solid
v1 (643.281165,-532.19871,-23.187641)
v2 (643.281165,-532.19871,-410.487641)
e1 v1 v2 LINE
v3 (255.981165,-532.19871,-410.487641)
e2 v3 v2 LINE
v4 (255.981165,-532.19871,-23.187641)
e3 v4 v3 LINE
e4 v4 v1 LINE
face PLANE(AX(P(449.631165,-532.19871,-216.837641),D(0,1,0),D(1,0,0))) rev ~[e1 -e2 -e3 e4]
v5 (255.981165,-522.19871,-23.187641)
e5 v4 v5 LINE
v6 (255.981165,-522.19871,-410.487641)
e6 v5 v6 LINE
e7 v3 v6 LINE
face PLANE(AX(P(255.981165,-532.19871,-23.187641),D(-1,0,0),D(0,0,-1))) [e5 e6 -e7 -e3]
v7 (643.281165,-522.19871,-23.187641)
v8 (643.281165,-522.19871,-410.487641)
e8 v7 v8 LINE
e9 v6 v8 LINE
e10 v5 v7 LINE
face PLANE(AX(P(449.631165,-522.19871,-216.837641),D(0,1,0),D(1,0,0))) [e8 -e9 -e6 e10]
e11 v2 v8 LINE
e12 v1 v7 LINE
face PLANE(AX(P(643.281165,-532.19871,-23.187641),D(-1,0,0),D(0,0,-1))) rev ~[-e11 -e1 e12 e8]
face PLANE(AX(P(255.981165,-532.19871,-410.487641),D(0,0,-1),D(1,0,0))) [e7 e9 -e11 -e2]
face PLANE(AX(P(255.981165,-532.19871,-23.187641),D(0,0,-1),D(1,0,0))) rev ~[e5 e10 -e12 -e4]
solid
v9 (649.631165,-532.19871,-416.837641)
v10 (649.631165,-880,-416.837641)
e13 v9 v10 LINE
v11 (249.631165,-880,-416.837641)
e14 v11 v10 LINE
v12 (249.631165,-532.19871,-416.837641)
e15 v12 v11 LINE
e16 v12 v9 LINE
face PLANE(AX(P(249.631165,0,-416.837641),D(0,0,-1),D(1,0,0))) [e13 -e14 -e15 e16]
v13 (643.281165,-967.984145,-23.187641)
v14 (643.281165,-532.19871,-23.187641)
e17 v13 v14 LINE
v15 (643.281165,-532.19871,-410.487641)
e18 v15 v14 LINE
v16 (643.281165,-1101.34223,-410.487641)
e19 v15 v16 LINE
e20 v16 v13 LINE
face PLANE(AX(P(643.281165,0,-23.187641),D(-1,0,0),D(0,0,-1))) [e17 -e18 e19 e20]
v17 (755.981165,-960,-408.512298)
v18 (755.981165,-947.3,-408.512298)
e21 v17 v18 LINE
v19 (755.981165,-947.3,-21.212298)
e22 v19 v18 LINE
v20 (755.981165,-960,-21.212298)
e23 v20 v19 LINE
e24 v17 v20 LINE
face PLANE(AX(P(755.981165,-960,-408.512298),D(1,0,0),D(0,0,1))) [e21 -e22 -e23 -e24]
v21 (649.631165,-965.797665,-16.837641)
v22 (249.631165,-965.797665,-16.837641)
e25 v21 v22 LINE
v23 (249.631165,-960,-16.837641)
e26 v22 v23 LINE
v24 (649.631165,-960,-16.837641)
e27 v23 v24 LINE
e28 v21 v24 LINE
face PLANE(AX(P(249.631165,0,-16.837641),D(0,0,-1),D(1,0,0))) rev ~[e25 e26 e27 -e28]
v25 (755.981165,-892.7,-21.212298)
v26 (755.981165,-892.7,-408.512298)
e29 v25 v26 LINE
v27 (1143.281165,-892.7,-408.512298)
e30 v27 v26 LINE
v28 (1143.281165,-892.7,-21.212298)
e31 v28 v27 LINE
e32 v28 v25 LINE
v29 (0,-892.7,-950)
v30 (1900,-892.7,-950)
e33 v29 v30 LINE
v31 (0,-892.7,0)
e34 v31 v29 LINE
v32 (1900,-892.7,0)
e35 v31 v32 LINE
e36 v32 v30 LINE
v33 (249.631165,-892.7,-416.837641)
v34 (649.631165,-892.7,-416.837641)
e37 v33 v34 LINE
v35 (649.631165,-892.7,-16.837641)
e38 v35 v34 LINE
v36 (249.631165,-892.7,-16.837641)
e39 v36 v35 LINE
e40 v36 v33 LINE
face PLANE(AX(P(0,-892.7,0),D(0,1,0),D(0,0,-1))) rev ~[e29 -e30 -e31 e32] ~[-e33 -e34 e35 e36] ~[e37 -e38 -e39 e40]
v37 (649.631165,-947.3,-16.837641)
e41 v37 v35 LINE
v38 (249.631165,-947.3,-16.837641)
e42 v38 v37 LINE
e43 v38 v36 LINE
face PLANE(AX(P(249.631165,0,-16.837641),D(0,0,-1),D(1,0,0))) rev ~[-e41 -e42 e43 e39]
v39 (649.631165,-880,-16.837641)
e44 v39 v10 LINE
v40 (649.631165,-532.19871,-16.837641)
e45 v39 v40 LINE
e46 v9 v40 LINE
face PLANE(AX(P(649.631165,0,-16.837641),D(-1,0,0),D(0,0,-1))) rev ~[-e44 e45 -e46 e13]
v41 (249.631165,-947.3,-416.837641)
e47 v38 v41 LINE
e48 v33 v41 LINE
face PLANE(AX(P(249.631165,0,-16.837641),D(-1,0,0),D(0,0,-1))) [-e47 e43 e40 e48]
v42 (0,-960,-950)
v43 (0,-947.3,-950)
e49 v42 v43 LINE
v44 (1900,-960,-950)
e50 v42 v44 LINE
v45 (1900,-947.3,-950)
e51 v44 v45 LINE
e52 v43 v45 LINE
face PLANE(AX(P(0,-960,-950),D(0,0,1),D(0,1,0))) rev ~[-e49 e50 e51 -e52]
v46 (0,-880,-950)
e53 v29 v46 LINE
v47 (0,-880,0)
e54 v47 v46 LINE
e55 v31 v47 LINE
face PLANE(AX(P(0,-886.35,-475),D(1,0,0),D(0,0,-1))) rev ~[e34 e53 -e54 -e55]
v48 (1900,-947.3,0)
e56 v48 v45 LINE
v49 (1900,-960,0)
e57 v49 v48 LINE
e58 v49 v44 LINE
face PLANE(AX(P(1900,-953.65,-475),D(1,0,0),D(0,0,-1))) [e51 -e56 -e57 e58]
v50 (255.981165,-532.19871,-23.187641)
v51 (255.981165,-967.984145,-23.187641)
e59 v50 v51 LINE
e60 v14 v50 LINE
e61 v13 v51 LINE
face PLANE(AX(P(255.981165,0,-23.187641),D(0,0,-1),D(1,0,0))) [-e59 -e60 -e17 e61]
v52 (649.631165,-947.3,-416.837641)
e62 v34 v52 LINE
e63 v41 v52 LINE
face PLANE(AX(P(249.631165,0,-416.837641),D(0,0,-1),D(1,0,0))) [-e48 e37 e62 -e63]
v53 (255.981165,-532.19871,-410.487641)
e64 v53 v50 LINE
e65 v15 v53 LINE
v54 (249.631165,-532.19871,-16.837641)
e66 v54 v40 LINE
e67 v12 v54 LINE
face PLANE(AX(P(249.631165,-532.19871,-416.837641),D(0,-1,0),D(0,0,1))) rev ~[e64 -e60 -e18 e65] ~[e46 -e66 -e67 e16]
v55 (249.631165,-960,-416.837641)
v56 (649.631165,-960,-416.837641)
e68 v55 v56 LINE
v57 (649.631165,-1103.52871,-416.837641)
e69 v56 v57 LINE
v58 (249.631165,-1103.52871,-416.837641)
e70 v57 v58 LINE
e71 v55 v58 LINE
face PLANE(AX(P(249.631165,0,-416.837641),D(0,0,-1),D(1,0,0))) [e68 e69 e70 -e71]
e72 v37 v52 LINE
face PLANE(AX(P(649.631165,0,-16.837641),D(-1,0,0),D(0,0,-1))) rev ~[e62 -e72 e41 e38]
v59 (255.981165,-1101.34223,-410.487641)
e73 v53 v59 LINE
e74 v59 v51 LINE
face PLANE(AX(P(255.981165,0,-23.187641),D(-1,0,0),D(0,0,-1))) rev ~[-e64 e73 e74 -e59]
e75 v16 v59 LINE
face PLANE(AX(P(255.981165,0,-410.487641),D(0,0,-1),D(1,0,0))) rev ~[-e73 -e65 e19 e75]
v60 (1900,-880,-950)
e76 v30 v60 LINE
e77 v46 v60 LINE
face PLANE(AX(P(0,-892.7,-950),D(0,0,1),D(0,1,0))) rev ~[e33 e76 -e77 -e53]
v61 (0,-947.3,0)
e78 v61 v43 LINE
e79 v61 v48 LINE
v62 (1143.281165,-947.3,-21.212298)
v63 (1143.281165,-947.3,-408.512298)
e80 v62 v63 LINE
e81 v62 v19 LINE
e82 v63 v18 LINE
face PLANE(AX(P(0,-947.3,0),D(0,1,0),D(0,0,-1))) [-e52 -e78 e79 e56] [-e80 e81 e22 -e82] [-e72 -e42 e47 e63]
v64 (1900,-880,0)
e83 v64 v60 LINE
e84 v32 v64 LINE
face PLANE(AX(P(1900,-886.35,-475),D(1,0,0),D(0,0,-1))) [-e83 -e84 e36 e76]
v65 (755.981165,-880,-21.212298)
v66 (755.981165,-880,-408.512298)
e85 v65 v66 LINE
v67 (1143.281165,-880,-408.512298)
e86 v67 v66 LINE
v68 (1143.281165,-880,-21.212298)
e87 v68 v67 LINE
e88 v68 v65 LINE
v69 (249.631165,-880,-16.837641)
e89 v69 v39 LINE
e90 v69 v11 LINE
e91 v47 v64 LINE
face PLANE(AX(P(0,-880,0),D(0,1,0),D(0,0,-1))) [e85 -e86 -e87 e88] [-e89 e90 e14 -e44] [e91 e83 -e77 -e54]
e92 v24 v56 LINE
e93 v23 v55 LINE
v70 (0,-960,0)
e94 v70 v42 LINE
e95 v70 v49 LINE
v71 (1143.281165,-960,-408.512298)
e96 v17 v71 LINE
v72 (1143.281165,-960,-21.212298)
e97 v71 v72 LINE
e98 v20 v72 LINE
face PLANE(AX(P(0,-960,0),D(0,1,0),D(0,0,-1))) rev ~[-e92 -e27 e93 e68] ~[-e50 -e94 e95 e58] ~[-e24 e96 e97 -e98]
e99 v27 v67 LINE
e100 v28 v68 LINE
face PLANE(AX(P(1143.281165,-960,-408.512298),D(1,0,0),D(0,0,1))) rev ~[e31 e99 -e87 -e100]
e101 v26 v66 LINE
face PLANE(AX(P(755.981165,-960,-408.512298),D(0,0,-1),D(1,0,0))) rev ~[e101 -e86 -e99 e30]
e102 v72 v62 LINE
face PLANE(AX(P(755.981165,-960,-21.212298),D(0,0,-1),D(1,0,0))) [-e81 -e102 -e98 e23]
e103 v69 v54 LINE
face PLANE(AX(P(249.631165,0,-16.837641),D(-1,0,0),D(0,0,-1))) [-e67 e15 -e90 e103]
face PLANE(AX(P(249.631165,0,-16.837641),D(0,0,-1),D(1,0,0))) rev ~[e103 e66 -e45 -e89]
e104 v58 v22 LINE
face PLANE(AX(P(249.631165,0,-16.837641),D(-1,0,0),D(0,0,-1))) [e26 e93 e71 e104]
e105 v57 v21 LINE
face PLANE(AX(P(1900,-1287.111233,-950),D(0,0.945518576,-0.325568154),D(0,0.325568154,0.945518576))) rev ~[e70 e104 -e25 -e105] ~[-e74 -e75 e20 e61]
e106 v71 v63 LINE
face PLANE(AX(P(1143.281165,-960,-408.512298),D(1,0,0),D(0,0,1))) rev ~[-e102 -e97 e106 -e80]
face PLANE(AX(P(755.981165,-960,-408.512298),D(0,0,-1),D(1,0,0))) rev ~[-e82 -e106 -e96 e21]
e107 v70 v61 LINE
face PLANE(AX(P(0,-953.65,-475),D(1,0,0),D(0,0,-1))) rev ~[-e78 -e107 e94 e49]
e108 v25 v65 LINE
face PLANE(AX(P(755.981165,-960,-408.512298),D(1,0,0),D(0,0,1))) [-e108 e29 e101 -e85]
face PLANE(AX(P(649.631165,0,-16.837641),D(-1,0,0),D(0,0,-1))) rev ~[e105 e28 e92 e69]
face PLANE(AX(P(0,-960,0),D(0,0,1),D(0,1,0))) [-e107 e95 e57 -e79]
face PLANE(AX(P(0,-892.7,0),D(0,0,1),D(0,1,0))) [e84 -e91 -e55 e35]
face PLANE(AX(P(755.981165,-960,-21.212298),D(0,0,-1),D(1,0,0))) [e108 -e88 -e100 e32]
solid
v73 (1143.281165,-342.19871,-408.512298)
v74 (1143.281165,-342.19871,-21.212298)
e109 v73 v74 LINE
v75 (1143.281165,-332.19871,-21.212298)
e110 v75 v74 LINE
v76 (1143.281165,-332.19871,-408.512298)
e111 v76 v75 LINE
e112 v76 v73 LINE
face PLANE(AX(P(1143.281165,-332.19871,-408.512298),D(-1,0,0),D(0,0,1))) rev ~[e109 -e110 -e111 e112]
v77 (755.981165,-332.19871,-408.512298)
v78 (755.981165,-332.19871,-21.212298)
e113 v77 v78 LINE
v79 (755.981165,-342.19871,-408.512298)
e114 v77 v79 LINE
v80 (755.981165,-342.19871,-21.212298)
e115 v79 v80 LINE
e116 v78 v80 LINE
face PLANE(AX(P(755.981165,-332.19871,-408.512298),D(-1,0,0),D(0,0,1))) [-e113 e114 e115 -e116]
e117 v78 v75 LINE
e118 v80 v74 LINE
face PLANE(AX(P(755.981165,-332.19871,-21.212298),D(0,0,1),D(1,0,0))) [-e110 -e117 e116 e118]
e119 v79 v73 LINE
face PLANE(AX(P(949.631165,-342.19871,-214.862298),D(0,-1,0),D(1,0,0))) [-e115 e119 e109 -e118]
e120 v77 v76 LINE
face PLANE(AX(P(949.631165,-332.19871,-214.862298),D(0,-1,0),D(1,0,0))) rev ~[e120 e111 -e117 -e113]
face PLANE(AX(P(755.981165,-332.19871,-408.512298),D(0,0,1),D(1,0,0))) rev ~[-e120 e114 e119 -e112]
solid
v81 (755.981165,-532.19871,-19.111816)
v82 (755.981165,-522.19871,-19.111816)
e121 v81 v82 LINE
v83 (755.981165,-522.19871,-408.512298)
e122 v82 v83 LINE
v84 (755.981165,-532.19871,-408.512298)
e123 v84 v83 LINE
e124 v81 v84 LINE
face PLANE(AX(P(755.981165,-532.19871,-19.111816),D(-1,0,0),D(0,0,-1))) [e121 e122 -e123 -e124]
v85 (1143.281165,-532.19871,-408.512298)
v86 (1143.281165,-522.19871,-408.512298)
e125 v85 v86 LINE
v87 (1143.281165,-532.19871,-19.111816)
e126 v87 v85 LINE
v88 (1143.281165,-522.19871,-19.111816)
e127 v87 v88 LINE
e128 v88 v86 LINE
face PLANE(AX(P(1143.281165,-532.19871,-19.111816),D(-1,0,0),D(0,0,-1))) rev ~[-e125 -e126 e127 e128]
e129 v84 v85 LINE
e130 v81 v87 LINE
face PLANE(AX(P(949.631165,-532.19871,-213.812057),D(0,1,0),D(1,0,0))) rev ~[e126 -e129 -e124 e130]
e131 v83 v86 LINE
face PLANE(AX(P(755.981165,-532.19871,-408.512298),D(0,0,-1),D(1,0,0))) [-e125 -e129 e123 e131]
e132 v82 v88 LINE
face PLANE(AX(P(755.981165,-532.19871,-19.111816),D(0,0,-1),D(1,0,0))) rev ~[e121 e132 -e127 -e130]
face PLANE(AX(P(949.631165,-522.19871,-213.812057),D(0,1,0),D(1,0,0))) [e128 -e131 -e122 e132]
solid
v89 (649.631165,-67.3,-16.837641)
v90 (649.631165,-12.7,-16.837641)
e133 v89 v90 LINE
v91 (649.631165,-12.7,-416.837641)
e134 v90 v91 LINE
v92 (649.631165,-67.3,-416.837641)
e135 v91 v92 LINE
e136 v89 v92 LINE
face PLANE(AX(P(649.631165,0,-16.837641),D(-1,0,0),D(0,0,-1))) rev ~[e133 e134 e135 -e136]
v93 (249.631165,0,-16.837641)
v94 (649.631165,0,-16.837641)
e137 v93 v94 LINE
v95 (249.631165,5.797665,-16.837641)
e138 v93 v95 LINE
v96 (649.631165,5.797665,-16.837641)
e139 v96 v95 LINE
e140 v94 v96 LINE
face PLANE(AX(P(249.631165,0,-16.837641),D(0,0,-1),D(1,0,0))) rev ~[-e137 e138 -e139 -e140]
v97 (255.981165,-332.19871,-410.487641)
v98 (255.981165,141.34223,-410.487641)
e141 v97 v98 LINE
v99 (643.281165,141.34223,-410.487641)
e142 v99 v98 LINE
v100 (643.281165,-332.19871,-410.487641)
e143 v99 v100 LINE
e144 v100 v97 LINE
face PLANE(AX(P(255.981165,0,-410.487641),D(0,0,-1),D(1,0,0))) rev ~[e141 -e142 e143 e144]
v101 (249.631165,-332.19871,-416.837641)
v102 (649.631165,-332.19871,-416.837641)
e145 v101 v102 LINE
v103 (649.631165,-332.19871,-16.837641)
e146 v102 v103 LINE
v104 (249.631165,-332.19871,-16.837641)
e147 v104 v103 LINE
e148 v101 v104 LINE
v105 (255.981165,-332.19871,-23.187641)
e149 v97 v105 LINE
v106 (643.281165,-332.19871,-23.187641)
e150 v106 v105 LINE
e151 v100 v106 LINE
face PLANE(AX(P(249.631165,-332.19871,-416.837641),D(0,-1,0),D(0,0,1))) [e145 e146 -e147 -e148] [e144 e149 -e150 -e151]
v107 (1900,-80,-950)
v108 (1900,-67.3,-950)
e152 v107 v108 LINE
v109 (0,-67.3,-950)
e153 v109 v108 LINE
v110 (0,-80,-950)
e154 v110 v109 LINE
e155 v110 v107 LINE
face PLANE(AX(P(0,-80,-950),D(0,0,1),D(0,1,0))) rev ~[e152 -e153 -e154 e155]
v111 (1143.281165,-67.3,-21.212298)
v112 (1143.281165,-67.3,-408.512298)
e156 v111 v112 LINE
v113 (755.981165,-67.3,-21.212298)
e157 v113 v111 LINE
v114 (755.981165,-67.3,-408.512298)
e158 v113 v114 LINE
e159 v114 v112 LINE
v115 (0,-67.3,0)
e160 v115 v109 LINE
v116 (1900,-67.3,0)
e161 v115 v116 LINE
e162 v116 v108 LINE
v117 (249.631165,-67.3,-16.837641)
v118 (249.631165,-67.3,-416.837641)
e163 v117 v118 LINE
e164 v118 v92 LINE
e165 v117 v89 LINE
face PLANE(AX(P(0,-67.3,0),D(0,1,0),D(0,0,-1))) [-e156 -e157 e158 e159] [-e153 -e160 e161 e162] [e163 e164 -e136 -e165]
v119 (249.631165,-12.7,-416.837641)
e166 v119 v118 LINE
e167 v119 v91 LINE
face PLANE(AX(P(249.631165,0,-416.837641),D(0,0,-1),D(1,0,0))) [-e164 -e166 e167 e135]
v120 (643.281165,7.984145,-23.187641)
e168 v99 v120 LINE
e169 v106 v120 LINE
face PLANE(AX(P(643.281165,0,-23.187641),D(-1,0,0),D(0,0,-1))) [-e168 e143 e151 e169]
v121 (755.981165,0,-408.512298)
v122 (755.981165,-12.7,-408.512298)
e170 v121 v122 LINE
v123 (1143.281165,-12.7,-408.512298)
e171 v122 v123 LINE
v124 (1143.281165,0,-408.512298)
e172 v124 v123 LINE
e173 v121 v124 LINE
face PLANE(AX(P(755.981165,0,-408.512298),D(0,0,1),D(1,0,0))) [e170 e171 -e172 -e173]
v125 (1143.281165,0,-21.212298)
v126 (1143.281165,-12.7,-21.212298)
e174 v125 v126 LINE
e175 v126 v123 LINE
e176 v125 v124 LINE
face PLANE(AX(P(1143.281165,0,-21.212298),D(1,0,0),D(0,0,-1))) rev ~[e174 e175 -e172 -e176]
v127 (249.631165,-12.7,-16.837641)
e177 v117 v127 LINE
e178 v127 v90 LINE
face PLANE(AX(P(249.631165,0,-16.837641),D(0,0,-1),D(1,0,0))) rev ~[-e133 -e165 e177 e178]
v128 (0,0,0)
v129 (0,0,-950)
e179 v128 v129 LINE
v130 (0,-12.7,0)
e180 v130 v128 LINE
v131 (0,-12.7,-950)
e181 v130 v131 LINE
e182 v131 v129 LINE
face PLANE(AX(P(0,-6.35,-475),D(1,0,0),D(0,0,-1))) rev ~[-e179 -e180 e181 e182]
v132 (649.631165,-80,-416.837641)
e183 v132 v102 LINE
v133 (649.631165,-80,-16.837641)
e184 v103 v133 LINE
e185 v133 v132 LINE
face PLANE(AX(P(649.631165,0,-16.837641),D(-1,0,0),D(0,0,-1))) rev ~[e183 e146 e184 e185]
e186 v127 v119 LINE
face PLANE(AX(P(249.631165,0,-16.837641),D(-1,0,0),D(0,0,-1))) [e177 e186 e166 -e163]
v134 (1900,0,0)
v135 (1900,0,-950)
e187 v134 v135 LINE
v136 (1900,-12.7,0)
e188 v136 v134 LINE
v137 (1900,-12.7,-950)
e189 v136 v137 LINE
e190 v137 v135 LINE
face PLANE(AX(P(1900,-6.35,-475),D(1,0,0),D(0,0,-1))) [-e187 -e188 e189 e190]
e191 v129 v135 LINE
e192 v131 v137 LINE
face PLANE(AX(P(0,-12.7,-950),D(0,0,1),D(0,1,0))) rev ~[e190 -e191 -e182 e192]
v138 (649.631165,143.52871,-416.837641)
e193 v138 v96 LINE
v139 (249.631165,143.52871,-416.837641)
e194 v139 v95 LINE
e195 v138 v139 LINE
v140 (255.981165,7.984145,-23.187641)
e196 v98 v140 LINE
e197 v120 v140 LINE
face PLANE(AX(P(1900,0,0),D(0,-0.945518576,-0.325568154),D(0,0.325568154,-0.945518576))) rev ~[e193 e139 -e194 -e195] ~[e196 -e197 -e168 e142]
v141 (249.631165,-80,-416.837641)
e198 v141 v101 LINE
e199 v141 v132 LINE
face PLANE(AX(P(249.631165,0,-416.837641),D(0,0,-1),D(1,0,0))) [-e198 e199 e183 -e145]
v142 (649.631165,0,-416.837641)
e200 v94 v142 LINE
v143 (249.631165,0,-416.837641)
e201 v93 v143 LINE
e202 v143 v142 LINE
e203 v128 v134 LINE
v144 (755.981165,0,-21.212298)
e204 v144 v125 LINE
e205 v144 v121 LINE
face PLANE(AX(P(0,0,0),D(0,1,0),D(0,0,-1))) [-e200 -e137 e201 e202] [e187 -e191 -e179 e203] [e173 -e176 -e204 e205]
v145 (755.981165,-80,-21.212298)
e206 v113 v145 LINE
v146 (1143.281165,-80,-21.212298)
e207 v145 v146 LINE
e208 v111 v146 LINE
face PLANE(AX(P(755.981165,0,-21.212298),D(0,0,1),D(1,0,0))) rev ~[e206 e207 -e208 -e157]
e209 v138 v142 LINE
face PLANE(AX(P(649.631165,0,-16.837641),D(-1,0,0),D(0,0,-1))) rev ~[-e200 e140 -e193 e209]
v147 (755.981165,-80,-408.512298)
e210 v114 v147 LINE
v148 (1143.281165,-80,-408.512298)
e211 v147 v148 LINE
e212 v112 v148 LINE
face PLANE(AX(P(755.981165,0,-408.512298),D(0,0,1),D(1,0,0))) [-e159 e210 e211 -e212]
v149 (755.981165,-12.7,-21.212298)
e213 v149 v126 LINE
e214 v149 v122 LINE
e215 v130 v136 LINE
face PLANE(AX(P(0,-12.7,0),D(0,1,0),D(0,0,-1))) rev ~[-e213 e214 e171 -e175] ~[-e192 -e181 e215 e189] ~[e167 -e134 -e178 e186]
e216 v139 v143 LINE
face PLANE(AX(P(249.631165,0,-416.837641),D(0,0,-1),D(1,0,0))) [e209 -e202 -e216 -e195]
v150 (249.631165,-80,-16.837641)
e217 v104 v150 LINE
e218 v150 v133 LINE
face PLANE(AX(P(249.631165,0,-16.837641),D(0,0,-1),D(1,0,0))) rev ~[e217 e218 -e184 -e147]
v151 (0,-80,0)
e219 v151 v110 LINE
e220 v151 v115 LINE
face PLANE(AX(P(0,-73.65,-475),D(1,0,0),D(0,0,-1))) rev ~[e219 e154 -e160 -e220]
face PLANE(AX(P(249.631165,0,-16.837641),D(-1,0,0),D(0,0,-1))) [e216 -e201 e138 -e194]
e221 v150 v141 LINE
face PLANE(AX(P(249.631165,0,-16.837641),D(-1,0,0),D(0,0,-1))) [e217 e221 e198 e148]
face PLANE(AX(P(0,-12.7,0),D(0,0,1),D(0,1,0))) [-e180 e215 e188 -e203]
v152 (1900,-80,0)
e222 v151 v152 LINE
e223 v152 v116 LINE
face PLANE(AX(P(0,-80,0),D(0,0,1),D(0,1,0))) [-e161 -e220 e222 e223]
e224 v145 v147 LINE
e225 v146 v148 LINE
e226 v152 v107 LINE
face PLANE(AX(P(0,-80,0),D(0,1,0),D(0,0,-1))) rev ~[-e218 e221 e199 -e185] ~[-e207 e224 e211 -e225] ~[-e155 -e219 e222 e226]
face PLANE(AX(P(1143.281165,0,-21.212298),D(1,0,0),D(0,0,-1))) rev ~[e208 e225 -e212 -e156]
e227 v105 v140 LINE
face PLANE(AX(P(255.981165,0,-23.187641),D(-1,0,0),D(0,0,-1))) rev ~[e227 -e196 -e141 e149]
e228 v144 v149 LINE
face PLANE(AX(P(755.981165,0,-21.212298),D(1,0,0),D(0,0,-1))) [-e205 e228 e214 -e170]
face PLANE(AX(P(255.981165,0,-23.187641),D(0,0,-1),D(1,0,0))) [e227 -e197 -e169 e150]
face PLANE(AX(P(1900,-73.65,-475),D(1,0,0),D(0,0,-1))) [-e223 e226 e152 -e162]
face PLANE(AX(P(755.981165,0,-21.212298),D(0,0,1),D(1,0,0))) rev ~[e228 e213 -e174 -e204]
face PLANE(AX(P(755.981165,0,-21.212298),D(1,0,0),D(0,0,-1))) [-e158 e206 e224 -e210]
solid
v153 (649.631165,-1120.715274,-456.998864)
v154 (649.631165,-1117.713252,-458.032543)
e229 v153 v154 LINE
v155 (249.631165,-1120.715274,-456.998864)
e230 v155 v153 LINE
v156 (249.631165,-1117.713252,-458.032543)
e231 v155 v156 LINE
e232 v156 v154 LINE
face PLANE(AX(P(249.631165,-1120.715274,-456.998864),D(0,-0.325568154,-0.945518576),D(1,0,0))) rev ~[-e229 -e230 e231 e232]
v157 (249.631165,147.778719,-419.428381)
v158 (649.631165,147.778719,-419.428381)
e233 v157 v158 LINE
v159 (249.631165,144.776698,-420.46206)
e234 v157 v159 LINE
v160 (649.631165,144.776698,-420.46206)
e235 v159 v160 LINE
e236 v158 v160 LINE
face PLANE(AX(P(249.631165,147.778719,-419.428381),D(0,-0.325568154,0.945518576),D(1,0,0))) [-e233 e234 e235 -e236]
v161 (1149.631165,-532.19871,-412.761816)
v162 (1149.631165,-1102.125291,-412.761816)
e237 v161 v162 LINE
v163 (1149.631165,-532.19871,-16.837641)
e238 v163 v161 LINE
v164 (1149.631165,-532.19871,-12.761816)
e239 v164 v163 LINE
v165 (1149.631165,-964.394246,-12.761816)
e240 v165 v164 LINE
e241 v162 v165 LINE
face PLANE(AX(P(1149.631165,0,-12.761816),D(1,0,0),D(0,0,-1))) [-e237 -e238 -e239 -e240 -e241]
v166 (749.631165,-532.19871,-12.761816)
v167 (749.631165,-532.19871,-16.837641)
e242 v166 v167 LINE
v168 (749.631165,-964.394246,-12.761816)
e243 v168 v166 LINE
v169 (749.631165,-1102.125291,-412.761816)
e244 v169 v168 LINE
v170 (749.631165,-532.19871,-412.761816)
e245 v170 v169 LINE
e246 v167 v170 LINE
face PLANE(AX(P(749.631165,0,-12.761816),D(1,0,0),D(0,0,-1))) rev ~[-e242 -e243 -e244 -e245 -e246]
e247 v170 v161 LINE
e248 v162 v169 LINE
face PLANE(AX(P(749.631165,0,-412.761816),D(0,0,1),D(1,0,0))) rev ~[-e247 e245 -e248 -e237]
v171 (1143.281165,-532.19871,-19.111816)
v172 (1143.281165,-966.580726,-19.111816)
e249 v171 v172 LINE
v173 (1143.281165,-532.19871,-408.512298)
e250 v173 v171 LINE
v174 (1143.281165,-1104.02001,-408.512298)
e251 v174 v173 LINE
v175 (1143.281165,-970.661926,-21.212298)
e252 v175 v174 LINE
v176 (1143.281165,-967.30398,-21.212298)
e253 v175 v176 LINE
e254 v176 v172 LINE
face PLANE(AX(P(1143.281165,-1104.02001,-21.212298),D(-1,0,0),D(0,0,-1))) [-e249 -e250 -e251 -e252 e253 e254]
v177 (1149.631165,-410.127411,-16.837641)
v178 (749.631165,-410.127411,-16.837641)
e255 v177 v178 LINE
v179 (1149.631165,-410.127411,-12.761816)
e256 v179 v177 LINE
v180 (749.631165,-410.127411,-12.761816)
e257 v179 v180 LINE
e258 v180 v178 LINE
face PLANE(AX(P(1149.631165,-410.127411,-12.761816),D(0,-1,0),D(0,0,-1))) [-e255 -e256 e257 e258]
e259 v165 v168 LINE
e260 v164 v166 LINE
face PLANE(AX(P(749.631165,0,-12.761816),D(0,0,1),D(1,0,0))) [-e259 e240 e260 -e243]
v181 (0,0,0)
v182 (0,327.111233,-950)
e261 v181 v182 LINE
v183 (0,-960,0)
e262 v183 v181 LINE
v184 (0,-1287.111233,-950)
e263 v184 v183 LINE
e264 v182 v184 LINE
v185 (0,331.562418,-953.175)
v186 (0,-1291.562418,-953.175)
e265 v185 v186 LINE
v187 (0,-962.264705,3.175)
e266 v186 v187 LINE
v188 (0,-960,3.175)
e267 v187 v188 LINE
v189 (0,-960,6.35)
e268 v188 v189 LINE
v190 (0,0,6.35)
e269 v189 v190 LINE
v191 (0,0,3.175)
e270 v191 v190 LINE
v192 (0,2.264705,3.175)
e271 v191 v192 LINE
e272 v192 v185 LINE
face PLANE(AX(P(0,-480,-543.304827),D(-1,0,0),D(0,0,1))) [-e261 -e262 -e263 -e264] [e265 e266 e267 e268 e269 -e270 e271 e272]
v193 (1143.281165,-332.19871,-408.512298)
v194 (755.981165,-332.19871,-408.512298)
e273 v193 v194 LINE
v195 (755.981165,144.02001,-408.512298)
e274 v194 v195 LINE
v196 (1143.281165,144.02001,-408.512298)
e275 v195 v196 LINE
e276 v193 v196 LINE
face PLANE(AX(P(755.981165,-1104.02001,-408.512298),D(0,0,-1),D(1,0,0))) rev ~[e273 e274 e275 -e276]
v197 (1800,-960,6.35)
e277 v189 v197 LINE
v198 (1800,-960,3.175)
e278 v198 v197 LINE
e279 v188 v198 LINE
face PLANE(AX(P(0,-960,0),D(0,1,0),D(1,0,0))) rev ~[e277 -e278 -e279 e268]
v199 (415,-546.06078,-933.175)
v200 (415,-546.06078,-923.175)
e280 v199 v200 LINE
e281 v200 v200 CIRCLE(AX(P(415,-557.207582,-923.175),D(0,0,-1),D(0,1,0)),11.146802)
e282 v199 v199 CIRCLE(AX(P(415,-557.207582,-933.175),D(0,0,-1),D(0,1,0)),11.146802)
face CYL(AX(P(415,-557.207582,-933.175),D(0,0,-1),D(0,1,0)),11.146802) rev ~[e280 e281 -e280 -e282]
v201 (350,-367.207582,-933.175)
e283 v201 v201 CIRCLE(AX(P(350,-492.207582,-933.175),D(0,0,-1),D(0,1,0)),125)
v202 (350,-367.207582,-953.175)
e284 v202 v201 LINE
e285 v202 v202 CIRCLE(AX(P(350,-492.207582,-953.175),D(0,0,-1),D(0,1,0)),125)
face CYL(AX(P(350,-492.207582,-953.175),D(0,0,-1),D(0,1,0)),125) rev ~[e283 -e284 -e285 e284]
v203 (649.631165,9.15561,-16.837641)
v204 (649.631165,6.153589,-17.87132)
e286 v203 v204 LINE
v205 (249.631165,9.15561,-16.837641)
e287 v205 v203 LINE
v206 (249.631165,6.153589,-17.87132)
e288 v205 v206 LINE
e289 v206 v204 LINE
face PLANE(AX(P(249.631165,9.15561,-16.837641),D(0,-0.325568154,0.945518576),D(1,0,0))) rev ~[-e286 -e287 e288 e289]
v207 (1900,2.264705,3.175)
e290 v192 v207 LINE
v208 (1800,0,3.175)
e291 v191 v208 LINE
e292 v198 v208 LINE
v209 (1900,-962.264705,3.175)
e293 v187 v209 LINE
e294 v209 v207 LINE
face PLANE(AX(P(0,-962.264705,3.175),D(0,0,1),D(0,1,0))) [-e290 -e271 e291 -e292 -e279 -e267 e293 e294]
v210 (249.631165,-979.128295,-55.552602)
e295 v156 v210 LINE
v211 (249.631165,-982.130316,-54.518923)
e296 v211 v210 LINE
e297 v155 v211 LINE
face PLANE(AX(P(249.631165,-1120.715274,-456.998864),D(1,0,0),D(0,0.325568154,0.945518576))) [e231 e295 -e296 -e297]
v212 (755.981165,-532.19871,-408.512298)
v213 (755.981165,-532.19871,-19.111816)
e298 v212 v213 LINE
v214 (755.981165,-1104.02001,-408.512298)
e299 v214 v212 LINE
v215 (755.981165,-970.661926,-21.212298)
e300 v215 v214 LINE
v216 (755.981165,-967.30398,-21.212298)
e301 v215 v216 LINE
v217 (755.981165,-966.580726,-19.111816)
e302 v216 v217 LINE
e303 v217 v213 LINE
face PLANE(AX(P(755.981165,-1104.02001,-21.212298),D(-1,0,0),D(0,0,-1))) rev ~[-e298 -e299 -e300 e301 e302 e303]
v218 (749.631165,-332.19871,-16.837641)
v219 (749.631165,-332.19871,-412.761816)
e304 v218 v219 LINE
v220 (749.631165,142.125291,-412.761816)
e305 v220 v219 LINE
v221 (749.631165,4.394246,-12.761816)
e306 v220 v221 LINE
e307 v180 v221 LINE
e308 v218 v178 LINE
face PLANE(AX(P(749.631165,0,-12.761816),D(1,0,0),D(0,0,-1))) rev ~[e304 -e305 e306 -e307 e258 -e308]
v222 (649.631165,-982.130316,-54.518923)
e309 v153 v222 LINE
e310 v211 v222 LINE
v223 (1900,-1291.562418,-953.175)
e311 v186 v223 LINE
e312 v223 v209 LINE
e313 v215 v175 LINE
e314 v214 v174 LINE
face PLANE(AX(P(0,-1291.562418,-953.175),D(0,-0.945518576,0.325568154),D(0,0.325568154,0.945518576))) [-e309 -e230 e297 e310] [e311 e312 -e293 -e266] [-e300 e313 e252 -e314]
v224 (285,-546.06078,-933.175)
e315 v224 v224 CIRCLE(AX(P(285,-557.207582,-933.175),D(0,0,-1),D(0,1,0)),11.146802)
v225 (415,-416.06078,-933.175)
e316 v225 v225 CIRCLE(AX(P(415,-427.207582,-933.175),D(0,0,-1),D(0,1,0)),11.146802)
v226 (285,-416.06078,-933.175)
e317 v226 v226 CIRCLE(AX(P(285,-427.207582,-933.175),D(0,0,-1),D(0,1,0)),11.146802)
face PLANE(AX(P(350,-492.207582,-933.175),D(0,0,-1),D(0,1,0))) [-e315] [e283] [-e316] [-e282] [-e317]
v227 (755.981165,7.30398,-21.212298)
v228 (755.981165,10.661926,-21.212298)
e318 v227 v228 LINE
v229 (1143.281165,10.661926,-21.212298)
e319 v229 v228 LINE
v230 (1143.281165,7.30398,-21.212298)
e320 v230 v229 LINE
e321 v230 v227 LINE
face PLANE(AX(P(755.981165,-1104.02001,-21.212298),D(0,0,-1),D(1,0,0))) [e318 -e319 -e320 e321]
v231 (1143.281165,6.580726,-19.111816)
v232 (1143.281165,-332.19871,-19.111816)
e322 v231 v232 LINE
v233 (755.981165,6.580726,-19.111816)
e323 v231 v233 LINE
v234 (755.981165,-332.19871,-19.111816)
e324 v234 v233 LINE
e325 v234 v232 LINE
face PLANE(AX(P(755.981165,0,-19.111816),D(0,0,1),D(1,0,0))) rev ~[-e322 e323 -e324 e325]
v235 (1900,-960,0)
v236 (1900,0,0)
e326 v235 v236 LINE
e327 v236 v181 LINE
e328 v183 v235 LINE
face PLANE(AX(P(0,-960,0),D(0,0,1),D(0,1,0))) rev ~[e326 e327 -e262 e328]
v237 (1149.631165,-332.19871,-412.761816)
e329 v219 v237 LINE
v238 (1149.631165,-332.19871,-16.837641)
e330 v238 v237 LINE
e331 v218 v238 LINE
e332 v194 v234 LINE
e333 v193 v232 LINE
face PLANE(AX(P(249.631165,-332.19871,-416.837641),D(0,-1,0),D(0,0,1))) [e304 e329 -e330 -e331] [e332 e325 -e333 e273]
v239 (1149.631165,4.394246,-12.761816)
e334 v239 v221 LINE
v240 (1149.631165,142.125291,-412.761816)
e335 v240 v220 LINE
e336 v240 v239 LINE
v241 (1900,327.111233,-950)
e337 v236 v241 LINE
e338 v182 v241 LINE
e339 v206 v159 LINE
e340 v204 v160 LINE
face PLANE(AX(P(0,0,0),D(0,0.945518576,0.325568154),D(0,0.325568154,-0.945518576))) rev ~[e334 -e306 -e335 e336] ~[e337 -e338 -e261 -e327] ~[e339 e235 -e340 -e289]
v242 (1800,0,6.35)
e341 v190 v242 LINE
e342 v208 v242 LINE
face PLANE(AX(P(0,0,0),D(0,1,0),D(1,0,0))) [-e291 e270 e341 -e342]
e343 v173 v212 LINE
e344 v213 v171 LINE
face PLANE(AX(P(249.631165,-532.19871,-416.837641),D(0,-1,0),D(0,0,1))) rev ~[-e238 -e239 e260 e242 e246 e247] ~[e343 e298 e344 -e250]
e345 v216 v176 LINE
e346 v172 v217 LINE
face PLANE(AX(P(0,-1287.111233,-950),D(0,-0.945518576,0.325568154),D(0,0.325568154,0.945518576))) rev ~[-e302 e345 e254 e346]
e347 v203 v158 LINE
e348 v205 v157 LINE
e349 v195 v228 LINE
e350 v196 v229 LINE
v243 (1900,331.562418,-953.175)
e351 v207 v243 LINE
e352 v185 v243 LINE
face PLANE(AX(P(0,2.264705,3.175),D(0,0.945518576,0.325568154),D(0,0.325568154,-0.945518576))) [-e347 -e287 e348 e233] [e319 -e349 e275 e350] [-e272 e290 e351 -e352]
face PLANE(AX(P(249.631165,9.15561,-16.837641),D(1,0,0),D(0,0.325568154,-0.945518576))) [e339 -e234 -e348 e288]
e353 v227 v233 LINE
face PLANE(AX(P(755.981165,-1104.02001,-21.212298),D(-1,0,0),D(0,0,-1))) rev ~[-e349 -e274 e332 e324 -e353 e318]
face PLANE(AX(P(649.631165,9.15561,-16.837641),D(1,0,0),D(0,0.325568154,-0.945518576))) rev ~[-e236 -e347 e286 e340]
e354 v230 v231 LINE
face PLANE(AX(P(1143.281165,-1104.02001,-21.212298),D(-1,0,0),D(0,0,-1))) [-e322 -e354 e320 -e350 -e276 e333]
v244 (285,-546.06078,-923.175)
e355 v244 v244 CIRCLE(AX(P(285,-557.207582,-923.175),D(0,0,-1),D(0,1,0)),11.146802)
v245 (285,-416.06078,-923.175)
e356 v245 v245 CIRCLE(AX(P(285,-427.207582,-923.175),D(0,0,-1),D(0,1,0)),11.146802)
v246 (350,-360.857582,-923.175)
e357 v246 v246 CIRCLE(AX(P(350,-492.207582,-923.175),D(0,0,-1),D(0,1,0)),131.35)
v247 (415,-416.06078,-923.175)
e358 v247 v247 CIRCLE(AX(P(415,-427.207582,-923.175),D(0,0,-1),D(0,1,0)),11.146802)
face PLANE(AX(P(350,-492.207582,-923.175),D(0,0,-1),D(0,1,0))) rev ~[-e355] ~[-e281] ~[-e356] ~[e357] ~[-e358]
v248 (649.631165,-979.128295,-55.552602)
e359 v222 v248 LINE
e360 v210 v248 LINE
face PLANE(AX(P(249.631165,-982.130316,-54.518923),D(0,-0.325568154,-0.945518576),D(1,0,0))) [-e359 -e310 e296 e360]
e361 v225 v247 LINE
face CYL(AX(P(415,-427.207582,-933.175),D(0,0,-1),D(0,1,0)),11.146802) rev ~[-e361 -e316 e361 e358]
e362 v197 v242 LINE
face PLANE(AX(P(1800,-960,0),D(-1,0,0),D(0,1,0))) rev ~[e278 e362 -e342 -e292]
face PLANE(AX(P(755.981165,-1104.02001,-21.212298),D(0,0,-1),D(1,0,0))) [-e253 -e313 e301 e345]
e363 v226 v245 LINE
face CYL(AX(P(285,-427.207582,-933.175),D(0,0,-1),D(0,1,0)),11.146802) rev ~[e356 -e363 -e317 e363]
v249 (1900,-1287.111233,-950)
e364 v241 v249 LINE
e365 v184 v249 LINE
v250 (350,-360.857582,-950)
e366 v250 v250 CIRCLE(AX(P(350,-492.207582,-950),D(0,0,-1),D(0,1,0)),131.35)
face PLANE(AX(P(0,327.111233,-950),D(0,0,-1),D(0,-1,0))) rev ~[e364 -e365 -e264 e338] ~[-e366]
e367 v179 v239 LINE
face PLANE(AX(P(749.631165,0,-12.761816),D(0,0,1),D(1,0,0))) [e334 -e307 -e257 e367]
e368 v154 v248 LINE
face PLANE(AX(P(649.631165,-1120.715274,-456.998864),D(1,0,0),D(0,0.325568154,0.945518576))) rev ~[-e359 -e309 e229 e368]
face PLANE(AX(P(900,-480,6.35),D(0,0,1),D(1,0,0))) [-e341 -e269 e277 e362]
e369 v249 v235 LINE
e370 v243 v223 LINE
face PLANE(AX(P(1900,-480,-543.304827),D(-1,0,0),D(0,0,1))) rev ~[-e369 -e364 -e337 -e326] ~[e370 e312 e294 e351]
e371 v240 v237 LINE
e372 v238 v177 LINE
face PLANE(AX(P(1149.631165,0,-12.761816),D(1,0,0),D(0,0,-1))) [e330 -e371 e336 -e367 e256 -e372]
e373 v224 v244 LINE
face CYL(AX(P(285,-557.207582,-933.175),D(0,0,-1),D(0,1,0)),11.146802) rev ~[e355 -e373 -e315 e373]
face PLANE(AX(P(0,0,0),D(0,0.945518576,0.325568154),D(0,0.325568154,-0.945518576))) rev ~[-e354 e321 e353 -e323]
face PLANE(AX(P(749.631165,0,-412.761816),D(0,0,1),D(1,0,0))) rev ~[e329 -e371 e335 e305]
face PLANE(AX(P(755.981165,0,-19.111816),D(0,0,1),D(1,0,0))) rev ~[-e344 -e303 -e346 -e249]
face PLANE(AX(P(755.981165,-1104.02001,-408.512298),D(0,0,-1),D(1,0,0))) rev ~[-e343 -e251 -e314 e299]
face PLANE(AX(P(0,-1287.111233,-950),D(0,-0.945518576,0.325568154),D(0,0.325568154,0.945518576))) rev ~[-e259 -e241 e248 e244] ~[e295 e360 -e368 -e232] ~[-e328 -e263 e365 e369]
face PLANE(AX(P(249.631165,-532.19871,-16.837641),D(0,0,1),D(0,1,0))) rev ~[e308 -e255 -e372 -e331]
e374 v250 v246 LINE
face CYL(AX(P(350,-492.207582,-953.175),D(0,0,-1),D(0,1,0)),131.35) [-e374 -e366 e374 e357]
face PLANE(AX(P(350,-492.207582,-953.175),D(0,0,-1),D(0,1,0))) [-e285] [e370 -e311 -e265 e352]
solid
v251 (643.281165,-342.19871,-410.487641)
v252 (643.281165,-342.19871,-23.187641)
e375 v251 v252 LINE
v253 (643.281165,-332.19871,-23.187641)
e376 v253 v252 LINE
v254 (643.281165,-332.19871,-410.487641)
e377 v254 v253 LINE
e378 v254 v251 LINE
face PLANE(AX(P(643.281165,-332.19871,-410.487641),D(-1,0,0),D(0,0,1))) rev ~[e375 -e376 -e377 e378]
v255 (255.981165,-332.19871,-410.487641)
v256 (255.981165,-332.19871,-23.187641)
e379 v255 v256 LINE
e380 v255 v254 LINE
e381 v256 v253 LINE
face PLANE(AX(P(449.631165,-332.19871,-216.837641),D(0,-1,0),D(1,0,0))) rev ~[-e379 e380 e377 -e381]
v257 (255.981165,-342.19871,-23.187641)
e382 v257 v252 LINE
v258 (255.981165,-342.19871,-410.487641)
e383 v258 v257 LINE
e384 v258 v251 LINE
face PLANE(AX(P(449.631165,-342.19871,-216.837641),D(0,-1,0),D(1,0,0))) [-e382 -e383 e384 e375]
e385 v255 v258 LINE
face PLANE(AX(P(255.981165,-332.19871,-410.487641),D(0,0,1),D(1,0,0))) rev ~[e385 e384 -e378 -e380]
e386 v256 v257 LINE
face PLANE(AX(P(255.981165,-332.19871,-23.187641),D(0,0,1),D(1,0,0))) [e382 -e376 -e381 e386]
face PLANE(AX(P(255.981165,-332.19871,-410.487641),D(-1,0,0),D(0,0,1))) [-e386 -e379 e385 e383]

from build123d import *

# Parameters (mm, degrees)
SKETCH1_W                       = 1800
SKETCH1_H                       = 960
BOSS_EXTRUDE1_DEPTH             = 6.35
BOSS_EXTRUDE2_DEPTH             = 1900
SKETCH6_W                       = 400
SKETCH6_H                       = 425.788292868
CUT_EXTRUDE1_DEPTH              = 300
SKETCH7_W                       = 400
SKETCH7_H                       = 425.67110899
CUT_EXTRUDE2_DEPTH              = 300
BOSS_EXTRUDE4_REACH             = 2489.303
SKETCH8_W                       = 400
SKETCH8_H                       = 400
SKETCH8_W_2                     = 387.3
SKETCH8_H_2                     = 387.3
BOSS_EXTRUDE4_DIRECTION_2_REACH = 2489.303
SKETCH11_R                      = 131.35
BOSS_EXTRUDE6_DEPTH             = 30
SKETCH12_R                      = 125
CUT_EXTRUDE5_DEPTH              = 20
BOSS_EXTRUDE7_REACH             = 2489.303
SKETCH14_W                      = 400
SKETCH14_H                      = 400
SKETCH14_W_2                    = 387.3
SKETCH14_H_2                    = 387.3
BOSS_EXTRUDE7_DIRECTION_2_REACH = 2489.303
CUT_EXTRUDE6_START              = -1104.02001
SKETCH15_W                      = 387.3
SKETCH15_H                      = 387.3
CUT_EXTRUDE6_DEPTH              = 1248.04002
SKETCH16_W                      = 400
SKETCH16_H                      = 200
CUT_EXTRUDE8_DEPTH              = 940
SKETCH18_W                      = 4.075824643
SKETCH18_H                      = 122.071298875
CUT_EXTRUDE9_DEPTH              = 410
SKETCH19_W                      = 387.3
SKETCH19_H                      = 387.3
BOSS_EXTRUDE22_DEPTH            = 10
SKETCH22_W                      = 387.3
SKETCH22_H                      = 389.400481364
BOSS_EXTRUDE24_DEPTH            = 10
SKETCH23_W                      = 387.3
SKETCH23_H                      = 387.3
BOSS_EXTRUDE25_DEPTH            = 10
SKETCH24_W                      = 387.3
SKETCH24_H                      = 387.3
BOSS_EXTRUDE26_DEPTH            = 10
SKETCH25_W                      = 950
SKETCH25_H                      = 12.7
BOSS_EXTRUDE27_DEPTH            = 1900
SKETCH26_W                      = 387.3
SKETCH26_H                      = 387.3
CUT_EXTRUDE10_DEPTH             = 300
SKETCH27_W                      = 387.3
SKETCH27_H                      = 387.3
CUT_EXTRUDE11_DEPTH             = 300
SKETCH28_W                      = 387.3
SKETCH28_H                      = 387.3
CUT_EXTRUDE12_DEPTH             = 300
SKETCH29_W                      = 387.3
SKETCH29_H                      = 387.3
CUT_EXTRUDE13_DEPTH             = 300
SKETCH30_R                      = 11.146802018
CUT_EXTRUDE14_DEPTH             = 10


with BuildPart() as part:
    # Sketch1 → Boss-Extrude1 (new body)
    with BuildSketch(Plane.XY):
        with Locations((900, -480)):
            Rectangle(SKETCH1_W, SKETCH1_H)
    extrude(amount=BOSS_EXTRUDE1_DEPTH)

    # Sketch2 → Boss-Extrude2 (add)
    with BuildSketch(Plane(origin=(0, 0, 0), x_dir=(0, 0, -1), z_dir=(1, 0, 0))):
        Polygon((-3.175, -962.264705491), (-3.175, 2.264705491), (953.175, 331.56241846), (953.175, -1291.56241846), align=None)
        Polygon((0, 0), (950, 327.111232625), (950, -1287.111232625), (0, -960), align=None, mode=Mode.SUBTRACT)
    extrude(amount=BOSS_EXTRUDE2_DEPTH)

    # Sketch6 → Cut-Extrude1 (cut)
    with BuildSketch(Plane(origin=(0, 3.002021478, 1.03367889), x_dir=(1, 0, 0), z_dir=(0, 0.9455185755993153, 0.32556815445716086))):
        with Locations((449.631164922, 231.795224093)):
            Rectangle(SKETCH6_W, SKETCH6_H)
    extrude(amount=-CUT_EXTRUDE1_DEPTH, mode=Mode.SUBTRACT)

    # Sketch7 → Cut-Extrude2 (cut)
    with BuildSketch(Plane(origin=(0, -861.247183209, 296.551187047), x_dir=(1, 0, 0), z_dir=(0, -0.9455185755993154, 0.32556815445716053))):
        with Locations((449.631164922, -584.134563657)):
            Rectangle(SKETCH7_W, SKETCH7_H)
    extrude(amount=-CUT_EXTRUDE2_DEPTH, mode=Mode.SUBTRACT)

    # Sketch11 → Boss-Extrude6 (add)
    with BuildSketch(Plane(origin=(0, 0, -953.175), x_dir=(-1, 0, 0), z_dir=(0, 0, -1))):
        with Locations(Location((-350, -492.20758154, 0), (0, 0, 90))):
            Circle(SKETCH11_R)
    extrude(amount=-BOSS_EXTRUDE6_DEPTH)

    # Sketch12 → Cut-Extrude5 (cut)
    with BuildSketch(Plane(origin=(0, 0, -953.175), x_dir=(-1, 0, 0), z_dir=(0, 0, -1))):
        with Locations(Location((-350, -492.20758154, 0), (0, 0, 90))):
            Circle(SKETCH12_R)
    extrude(amount=-CUT_EXTRUDE5_DEPTH, mode=Mode.SUBTRACT)

    # Boss-Extrude7: up to this plane
    boss_extrude7_end = Plane(origin=(1900, 0, 0), z_dir=(0, -0.9455185755993153, -0.325568154457161))
    # Sketch14 → Boss-Extrude7 (add, up to the surface)
    with BuildSketch(Plane(origin=(0, 0, 0), x_dir=(1, 0, 0), z_dir=(0, 1, 0)), mode=Mode.PRIVATE) as boss_extrude7_sk1:
        with Locations((949.631164922, 212.761816492)):
            Rectangle(SKETCH14_W, SKETCH14_H)
        with Locations((949.631164922, 212.761816492)):
            Rectangle(SKETCH14_W_2, SKETCH14_H_2, mode=Mode.SUBTRACT)
    boss_extrude7_tool1 = split(extrude(boss_extrude7_sk1.sketch, amount=BOSS_EXTRUDE7_REACH, mode=Mode.PRIVATE), bisect_by=boss_extrude7_end, keep=Keep.BOTH, mode=Mode.PRIVATE)
    add(boss_extrude7_tool1.solids().sort_by_distance((949.631165, 0, -407.104962))[0])

    # Boss-Extrude7 direction 2: up to this plane
    boss_extrude7_direction_2_end = Plane(origin=(1900, -1287.111232625, -950), z_dir=(0, 0.9455185755993156, -0.3255681544571603))
    # Sketch14 → Boss-Extrude7 direction 2 (add, up to the surface)
    with BuildSketch(Plane(origin=(0, 0, 0), x_dir=(1, 0, 0), z_dir=(0, 1, 0)), mode=Mode.PRIVATE) as boss_extrude7_direction_2_sk1:
        with Locations((949.631164922, 212.761816492)):
            Rectangle(SKETCH14_W, SKETCH14_H)
        with Locations((949.631164922, 212.761816492)):
            Rectangle(SKETCH14_W_2, SKETCH14_H_2, mode=Mode.SUBTRACT)
    boss_extrude7_direction_2_tool1 = split(extrude(boss_extrude7_direction_2_sk1.sketch, amount=-BOSS_EXTRUDE7_DIRECTION_2_REACH, mode=Mode.PRIVATE), bisect_by=boss_extrude7_direction_2_end, keep=Keep.BOTH, mode=Mode.PRIVATE)
    add(boss_extrude7_direction_2_tool1.solids().sort_by_distance((949.631165, 0, -407.104962))[0])

    # Sketch15 → Cut-Extrude6 (cut)
    with BuildSketch(Plane(origin=(0, 0, 0), x_dir=(1, 0, 0), z_dir=(0, 1, 0)).offset(CUT_EXTRUDE6_START)):
        with Locations((949.631164922, 214.862297856)):
            Rectangle(SKETCH15_W, SKETCH15_H)
    extrude(amount=CUT_EXTRUDE6_DEPTH, mode=Mode.SUBTRACT)


with BuildPart() as body_2:
    # Boss-Extrude4: up to this plane
    boss_extrude4_end = Plane(origin=(1900, -1287.111232625, -950), z_dir=(0, 0.9455185755993156, -0.3255681544571603))
    # Sketch8 → Boss-Extrude4 (new, up to the surface)
    with BuildSketch(Plane(origin=(0, 0, 0), x_dir=(1, 0, 0), z_dir=(0, 1, 0)), mode=Mode.PRIVATE) as boss_extrude4_sk1:
        with Locations((449.631164922, 216.837641135)):
            Rectangle(SKETCH8_W, SKETCH8_H)
        with Locations((449.631164922, 216.837641135)):
            Rectangle(SKETCH8_W_2, SKETCH8_H_2, mode=Mode.SUBTRACT)
    boss_extrude4_tool1 = split(extrude(boss_extrude4_sk1.sketch, amount=-BOSS_EXTRUDE4_REACH, mode=Mode.PRIVATE), bisect_by=boss_extrude4_end, keep=Keep.BOTH, mode=Mode.PRIVATE)
    add(boss_extrude4_tool1.solids().sort_by_distance((449.631165, 0, -22.494495))[0])

    # Boss-Extrude4 direction 2: up to this plane
    boss_extrude4_direction_2_end = Plane(origin=(1900, 0, 0), z_dir=(0, -0.9455185755993153, -0.325568154457161))
    # Sketch8 → Boss-Extrude4 direction 2 (add, up to the surface)
    with BuildSketch(Plane(origin=(0, 0, 0), x_dir=(1, 0, 0), z_dir=(0, 1, 0)), mode=Mode.PRIVATE) as boss_extrude4_direction_2_sk1:
        with Locations((449.631164922, 216.837641135)):
            Rectangle(SKETCH8_W, SKETCH8_H)
        with Locations((449.631164922, 216.837641135)):
            Rectangle(SKETCH8_W_2, SKETCH8_H_2, mode=Mode.SUBTRACT)
    boss_extrude4_direction_2_tool1 = split(extrude(boss_extrude4_direction_2_sk1.sketch, amount=BOSS_EXTRUDE4_DIRECTION_2_REACH, mode=Mode.PRIVATE), bisect_by=boss_extrude4_direction_2_end, keep=Keep.BOTH, mode=Mode.PRIVATE)
    add(boss_extrude4_direction_2_tool1.solids().sort_by_distance((449.631165, 0, -22.494495))[0])


with BuildPart() as cut_extrude8_tool:
    # Sketch16 → Cut-Extrude8 (new body)
    with BuildSketch(Plane.ZY.offset(-249.631164922)):
        with Locations((-216.837641135, -432.198710101)):
            Rectangle(SKETCH16_W, SKETCH16_H)
    extrude(amount=-CUT_EXTRUDE8_DEPTH)


with BuildPart() as part_1:
    add(part.part)

    # Cut-Extrude8: cut by cut_extrude8_tool
    add(cut_extrude8_tool.part, mode=Mode.SUBTRACT)

    # Sketch18 → Cut-Extrude9 (cut)
    with BuildSketch(Plane(origin=(1149.631164922, 0, 0), x_dir=(0, 0, -1), z_dir=(1, 0, 0))):
        with Locations((14.799728814, -471.163060664)):
            Rectangle(SKETCH18_W, SKETCH18_H)
    extrude(amount=-CUT_EXTRUDE9_DEPTH, mode=Mode.SUBTRACT)

    # Sketch30 → Cut-Extrude14 (cut)
    with BuildSketch(Plane(origin=(0, 0, -933.175), x_dir=(-1, 0, 0), z_dir=(0, 0, -1))):
        with Locations(Location((-285, -427.20758154, 0), (0, 0, 90))):
            Circle(SKETCH30_R)
        with Locations(Location((-415, -427.20758154, 0), (0, 0, 90))):
            Circle(SKETCH30_R)
        with Locations(Location((-415, -557.20758154, 0), (0, 0, 90))):
            Circle(SKETCH30_R)
        with Locations(Location((-285, -557.20758154, 0), (0, 0, 90))):
            Circle(SKETCH30_R)
    extrude(amount=-CUT_EXTRUDE14_DEPTH, mode=Mode.SUBTRACT)


with BuildPart() as body_2_1:
    add(body_2.part)

    # Cut-Extrude8: cut by cut_extrude8_tool
    add(cut_extrude8_tool.part, mode=Mode.SUBTRACT)

    # Sketch25 → Boss-Extrude27 (add)
    with BuildSketch(Plane(origin=(0, 0, 0), x_dir=(0, 0, -1), z_dir=(1, 0, 0))):
        with Locations((475, -953.65)):
            Rectangle(SKETCH25_W, SKETCH25_H)
        with Locations((475, -886.35)):
            Rectangle(SKETCH25_W, SKETCH25_H)
        with Locations((475, -73.65)):
            Rectangle(SKETCH25_W, SKETCH25_H)
        with Locations((475, -6.35)):
            Rectangle(SKETCH25_W, SKETCH25_H)
    extrude(amount=BOSS_EXTRUDE27_DEPTH)

    # Sketch26 → Cut-Extrude10 (cut)
    with BuildSketch(Plane(origin=(0, 0, 0), x_dir=(1, 0, 0), z_dir=(0, 1, 0))):
        with Locations((449.631164922, 216.837641135)):
            Rectangle(SKETCH26_W, SKETCH26_H)
    extrude(amount=-CUT_EXTRUDE10_DEPTH, mode=Mode.SUBTRACT)

    # Sketch27 → Cut-Extrude11 (cut)
    with BuildSketch(Plane(origin=(0, 0, 0), x_dir=(1, 0, 0), z_dir=(0, 1, 0))):
        with Locations((949.631164922, 214.862297856)):
            Rectangle(SKETCH27_W, SKETCH27_H)
    extrude(amount=-CUT_EXTRUDE11_DEPTH, mode=Mode.SUBTRACT)

    # Sketch28 → Cut-Extrude12 (cut)
    with BuildSketch(Plane.XZ.offset(960)):
        with Locations((949.631164922, -214.862297856)):
            Rectangle(SKETCH28_W, SKETCH28_H)
    extrude(amount=-CUT_EXTRUDE12_DEPTH, mode=Mode.SUBTRACT)

    # Sketch29 → Cut-Extrude13 (cut)
    with BuildSketch(Plane.XZ.offset(960)):
        with Locations((449.631164922, -216.837641135)):
            Rectangle(SKETCH29_W, SKETCH29_H)
    extrude(amount=-CUT_EXTRUDE13_DEPTH, mode=Mode.SUBTRACT)


with BuildPart() as body_3:
    # Sketch19 → Boss-Extrude22 (new body)
    with BuildSketch(Plane.XZ.offset(332.198710101)):
        with Locations((949.631164922, -214.862297856)):
            Rectangle(SKETCH19_W, SKETCH19_H)
    extrude(amount=BOSS_EXTRUDE22_DEPTH)


with BuildPart() as body_4:
    # Sketch22 → Boss-Extrude24 (new body)
    with BuildSketch(Plane(origin=(0, -532.198710101, 0), x_dir=(1, 0, 0), z_dir=(0, 1, 0))):
        with Locations((949.631164922, 213.812057174)):
            Rectangle(SKETCH22_W, SKETCH22_H)
    extrude(amount=BOSS_EXTRUDE24_DEPTH)


with BuildPart() as body_5:
    # Sketch23 → Boss-Extrude25 (new body)
    with BuildSketch(Plane(origin=(0, -532.198710101, 0), x_dir=(1, 0, 0), z_dir=(0, 1, 0))):
        with Locations((449.631164922, 216.837641135)):
            Rectangle(SKETCH23_W, SKETCH23_H)
    extrude(amount=BOSS_EXTRUDE25_DEPTH)


with BuildPart() as body_6:
    # Sketch24 → Boss-Extrude26 (new body)
    with BuildSketch(Plane.XZ.offset(332.198710101)):
        with Locations((449.631164922, -216.837641135)):
            Rectangle(SKETCH24_W, SKETCH24_H)
    extrude(amount=BOSS_EXTRUDE26_DEPTH)


solid = Compound([part_1.part, body_2_1.part, body_3.part, body_4.part, body_5.part, body_6.part])
